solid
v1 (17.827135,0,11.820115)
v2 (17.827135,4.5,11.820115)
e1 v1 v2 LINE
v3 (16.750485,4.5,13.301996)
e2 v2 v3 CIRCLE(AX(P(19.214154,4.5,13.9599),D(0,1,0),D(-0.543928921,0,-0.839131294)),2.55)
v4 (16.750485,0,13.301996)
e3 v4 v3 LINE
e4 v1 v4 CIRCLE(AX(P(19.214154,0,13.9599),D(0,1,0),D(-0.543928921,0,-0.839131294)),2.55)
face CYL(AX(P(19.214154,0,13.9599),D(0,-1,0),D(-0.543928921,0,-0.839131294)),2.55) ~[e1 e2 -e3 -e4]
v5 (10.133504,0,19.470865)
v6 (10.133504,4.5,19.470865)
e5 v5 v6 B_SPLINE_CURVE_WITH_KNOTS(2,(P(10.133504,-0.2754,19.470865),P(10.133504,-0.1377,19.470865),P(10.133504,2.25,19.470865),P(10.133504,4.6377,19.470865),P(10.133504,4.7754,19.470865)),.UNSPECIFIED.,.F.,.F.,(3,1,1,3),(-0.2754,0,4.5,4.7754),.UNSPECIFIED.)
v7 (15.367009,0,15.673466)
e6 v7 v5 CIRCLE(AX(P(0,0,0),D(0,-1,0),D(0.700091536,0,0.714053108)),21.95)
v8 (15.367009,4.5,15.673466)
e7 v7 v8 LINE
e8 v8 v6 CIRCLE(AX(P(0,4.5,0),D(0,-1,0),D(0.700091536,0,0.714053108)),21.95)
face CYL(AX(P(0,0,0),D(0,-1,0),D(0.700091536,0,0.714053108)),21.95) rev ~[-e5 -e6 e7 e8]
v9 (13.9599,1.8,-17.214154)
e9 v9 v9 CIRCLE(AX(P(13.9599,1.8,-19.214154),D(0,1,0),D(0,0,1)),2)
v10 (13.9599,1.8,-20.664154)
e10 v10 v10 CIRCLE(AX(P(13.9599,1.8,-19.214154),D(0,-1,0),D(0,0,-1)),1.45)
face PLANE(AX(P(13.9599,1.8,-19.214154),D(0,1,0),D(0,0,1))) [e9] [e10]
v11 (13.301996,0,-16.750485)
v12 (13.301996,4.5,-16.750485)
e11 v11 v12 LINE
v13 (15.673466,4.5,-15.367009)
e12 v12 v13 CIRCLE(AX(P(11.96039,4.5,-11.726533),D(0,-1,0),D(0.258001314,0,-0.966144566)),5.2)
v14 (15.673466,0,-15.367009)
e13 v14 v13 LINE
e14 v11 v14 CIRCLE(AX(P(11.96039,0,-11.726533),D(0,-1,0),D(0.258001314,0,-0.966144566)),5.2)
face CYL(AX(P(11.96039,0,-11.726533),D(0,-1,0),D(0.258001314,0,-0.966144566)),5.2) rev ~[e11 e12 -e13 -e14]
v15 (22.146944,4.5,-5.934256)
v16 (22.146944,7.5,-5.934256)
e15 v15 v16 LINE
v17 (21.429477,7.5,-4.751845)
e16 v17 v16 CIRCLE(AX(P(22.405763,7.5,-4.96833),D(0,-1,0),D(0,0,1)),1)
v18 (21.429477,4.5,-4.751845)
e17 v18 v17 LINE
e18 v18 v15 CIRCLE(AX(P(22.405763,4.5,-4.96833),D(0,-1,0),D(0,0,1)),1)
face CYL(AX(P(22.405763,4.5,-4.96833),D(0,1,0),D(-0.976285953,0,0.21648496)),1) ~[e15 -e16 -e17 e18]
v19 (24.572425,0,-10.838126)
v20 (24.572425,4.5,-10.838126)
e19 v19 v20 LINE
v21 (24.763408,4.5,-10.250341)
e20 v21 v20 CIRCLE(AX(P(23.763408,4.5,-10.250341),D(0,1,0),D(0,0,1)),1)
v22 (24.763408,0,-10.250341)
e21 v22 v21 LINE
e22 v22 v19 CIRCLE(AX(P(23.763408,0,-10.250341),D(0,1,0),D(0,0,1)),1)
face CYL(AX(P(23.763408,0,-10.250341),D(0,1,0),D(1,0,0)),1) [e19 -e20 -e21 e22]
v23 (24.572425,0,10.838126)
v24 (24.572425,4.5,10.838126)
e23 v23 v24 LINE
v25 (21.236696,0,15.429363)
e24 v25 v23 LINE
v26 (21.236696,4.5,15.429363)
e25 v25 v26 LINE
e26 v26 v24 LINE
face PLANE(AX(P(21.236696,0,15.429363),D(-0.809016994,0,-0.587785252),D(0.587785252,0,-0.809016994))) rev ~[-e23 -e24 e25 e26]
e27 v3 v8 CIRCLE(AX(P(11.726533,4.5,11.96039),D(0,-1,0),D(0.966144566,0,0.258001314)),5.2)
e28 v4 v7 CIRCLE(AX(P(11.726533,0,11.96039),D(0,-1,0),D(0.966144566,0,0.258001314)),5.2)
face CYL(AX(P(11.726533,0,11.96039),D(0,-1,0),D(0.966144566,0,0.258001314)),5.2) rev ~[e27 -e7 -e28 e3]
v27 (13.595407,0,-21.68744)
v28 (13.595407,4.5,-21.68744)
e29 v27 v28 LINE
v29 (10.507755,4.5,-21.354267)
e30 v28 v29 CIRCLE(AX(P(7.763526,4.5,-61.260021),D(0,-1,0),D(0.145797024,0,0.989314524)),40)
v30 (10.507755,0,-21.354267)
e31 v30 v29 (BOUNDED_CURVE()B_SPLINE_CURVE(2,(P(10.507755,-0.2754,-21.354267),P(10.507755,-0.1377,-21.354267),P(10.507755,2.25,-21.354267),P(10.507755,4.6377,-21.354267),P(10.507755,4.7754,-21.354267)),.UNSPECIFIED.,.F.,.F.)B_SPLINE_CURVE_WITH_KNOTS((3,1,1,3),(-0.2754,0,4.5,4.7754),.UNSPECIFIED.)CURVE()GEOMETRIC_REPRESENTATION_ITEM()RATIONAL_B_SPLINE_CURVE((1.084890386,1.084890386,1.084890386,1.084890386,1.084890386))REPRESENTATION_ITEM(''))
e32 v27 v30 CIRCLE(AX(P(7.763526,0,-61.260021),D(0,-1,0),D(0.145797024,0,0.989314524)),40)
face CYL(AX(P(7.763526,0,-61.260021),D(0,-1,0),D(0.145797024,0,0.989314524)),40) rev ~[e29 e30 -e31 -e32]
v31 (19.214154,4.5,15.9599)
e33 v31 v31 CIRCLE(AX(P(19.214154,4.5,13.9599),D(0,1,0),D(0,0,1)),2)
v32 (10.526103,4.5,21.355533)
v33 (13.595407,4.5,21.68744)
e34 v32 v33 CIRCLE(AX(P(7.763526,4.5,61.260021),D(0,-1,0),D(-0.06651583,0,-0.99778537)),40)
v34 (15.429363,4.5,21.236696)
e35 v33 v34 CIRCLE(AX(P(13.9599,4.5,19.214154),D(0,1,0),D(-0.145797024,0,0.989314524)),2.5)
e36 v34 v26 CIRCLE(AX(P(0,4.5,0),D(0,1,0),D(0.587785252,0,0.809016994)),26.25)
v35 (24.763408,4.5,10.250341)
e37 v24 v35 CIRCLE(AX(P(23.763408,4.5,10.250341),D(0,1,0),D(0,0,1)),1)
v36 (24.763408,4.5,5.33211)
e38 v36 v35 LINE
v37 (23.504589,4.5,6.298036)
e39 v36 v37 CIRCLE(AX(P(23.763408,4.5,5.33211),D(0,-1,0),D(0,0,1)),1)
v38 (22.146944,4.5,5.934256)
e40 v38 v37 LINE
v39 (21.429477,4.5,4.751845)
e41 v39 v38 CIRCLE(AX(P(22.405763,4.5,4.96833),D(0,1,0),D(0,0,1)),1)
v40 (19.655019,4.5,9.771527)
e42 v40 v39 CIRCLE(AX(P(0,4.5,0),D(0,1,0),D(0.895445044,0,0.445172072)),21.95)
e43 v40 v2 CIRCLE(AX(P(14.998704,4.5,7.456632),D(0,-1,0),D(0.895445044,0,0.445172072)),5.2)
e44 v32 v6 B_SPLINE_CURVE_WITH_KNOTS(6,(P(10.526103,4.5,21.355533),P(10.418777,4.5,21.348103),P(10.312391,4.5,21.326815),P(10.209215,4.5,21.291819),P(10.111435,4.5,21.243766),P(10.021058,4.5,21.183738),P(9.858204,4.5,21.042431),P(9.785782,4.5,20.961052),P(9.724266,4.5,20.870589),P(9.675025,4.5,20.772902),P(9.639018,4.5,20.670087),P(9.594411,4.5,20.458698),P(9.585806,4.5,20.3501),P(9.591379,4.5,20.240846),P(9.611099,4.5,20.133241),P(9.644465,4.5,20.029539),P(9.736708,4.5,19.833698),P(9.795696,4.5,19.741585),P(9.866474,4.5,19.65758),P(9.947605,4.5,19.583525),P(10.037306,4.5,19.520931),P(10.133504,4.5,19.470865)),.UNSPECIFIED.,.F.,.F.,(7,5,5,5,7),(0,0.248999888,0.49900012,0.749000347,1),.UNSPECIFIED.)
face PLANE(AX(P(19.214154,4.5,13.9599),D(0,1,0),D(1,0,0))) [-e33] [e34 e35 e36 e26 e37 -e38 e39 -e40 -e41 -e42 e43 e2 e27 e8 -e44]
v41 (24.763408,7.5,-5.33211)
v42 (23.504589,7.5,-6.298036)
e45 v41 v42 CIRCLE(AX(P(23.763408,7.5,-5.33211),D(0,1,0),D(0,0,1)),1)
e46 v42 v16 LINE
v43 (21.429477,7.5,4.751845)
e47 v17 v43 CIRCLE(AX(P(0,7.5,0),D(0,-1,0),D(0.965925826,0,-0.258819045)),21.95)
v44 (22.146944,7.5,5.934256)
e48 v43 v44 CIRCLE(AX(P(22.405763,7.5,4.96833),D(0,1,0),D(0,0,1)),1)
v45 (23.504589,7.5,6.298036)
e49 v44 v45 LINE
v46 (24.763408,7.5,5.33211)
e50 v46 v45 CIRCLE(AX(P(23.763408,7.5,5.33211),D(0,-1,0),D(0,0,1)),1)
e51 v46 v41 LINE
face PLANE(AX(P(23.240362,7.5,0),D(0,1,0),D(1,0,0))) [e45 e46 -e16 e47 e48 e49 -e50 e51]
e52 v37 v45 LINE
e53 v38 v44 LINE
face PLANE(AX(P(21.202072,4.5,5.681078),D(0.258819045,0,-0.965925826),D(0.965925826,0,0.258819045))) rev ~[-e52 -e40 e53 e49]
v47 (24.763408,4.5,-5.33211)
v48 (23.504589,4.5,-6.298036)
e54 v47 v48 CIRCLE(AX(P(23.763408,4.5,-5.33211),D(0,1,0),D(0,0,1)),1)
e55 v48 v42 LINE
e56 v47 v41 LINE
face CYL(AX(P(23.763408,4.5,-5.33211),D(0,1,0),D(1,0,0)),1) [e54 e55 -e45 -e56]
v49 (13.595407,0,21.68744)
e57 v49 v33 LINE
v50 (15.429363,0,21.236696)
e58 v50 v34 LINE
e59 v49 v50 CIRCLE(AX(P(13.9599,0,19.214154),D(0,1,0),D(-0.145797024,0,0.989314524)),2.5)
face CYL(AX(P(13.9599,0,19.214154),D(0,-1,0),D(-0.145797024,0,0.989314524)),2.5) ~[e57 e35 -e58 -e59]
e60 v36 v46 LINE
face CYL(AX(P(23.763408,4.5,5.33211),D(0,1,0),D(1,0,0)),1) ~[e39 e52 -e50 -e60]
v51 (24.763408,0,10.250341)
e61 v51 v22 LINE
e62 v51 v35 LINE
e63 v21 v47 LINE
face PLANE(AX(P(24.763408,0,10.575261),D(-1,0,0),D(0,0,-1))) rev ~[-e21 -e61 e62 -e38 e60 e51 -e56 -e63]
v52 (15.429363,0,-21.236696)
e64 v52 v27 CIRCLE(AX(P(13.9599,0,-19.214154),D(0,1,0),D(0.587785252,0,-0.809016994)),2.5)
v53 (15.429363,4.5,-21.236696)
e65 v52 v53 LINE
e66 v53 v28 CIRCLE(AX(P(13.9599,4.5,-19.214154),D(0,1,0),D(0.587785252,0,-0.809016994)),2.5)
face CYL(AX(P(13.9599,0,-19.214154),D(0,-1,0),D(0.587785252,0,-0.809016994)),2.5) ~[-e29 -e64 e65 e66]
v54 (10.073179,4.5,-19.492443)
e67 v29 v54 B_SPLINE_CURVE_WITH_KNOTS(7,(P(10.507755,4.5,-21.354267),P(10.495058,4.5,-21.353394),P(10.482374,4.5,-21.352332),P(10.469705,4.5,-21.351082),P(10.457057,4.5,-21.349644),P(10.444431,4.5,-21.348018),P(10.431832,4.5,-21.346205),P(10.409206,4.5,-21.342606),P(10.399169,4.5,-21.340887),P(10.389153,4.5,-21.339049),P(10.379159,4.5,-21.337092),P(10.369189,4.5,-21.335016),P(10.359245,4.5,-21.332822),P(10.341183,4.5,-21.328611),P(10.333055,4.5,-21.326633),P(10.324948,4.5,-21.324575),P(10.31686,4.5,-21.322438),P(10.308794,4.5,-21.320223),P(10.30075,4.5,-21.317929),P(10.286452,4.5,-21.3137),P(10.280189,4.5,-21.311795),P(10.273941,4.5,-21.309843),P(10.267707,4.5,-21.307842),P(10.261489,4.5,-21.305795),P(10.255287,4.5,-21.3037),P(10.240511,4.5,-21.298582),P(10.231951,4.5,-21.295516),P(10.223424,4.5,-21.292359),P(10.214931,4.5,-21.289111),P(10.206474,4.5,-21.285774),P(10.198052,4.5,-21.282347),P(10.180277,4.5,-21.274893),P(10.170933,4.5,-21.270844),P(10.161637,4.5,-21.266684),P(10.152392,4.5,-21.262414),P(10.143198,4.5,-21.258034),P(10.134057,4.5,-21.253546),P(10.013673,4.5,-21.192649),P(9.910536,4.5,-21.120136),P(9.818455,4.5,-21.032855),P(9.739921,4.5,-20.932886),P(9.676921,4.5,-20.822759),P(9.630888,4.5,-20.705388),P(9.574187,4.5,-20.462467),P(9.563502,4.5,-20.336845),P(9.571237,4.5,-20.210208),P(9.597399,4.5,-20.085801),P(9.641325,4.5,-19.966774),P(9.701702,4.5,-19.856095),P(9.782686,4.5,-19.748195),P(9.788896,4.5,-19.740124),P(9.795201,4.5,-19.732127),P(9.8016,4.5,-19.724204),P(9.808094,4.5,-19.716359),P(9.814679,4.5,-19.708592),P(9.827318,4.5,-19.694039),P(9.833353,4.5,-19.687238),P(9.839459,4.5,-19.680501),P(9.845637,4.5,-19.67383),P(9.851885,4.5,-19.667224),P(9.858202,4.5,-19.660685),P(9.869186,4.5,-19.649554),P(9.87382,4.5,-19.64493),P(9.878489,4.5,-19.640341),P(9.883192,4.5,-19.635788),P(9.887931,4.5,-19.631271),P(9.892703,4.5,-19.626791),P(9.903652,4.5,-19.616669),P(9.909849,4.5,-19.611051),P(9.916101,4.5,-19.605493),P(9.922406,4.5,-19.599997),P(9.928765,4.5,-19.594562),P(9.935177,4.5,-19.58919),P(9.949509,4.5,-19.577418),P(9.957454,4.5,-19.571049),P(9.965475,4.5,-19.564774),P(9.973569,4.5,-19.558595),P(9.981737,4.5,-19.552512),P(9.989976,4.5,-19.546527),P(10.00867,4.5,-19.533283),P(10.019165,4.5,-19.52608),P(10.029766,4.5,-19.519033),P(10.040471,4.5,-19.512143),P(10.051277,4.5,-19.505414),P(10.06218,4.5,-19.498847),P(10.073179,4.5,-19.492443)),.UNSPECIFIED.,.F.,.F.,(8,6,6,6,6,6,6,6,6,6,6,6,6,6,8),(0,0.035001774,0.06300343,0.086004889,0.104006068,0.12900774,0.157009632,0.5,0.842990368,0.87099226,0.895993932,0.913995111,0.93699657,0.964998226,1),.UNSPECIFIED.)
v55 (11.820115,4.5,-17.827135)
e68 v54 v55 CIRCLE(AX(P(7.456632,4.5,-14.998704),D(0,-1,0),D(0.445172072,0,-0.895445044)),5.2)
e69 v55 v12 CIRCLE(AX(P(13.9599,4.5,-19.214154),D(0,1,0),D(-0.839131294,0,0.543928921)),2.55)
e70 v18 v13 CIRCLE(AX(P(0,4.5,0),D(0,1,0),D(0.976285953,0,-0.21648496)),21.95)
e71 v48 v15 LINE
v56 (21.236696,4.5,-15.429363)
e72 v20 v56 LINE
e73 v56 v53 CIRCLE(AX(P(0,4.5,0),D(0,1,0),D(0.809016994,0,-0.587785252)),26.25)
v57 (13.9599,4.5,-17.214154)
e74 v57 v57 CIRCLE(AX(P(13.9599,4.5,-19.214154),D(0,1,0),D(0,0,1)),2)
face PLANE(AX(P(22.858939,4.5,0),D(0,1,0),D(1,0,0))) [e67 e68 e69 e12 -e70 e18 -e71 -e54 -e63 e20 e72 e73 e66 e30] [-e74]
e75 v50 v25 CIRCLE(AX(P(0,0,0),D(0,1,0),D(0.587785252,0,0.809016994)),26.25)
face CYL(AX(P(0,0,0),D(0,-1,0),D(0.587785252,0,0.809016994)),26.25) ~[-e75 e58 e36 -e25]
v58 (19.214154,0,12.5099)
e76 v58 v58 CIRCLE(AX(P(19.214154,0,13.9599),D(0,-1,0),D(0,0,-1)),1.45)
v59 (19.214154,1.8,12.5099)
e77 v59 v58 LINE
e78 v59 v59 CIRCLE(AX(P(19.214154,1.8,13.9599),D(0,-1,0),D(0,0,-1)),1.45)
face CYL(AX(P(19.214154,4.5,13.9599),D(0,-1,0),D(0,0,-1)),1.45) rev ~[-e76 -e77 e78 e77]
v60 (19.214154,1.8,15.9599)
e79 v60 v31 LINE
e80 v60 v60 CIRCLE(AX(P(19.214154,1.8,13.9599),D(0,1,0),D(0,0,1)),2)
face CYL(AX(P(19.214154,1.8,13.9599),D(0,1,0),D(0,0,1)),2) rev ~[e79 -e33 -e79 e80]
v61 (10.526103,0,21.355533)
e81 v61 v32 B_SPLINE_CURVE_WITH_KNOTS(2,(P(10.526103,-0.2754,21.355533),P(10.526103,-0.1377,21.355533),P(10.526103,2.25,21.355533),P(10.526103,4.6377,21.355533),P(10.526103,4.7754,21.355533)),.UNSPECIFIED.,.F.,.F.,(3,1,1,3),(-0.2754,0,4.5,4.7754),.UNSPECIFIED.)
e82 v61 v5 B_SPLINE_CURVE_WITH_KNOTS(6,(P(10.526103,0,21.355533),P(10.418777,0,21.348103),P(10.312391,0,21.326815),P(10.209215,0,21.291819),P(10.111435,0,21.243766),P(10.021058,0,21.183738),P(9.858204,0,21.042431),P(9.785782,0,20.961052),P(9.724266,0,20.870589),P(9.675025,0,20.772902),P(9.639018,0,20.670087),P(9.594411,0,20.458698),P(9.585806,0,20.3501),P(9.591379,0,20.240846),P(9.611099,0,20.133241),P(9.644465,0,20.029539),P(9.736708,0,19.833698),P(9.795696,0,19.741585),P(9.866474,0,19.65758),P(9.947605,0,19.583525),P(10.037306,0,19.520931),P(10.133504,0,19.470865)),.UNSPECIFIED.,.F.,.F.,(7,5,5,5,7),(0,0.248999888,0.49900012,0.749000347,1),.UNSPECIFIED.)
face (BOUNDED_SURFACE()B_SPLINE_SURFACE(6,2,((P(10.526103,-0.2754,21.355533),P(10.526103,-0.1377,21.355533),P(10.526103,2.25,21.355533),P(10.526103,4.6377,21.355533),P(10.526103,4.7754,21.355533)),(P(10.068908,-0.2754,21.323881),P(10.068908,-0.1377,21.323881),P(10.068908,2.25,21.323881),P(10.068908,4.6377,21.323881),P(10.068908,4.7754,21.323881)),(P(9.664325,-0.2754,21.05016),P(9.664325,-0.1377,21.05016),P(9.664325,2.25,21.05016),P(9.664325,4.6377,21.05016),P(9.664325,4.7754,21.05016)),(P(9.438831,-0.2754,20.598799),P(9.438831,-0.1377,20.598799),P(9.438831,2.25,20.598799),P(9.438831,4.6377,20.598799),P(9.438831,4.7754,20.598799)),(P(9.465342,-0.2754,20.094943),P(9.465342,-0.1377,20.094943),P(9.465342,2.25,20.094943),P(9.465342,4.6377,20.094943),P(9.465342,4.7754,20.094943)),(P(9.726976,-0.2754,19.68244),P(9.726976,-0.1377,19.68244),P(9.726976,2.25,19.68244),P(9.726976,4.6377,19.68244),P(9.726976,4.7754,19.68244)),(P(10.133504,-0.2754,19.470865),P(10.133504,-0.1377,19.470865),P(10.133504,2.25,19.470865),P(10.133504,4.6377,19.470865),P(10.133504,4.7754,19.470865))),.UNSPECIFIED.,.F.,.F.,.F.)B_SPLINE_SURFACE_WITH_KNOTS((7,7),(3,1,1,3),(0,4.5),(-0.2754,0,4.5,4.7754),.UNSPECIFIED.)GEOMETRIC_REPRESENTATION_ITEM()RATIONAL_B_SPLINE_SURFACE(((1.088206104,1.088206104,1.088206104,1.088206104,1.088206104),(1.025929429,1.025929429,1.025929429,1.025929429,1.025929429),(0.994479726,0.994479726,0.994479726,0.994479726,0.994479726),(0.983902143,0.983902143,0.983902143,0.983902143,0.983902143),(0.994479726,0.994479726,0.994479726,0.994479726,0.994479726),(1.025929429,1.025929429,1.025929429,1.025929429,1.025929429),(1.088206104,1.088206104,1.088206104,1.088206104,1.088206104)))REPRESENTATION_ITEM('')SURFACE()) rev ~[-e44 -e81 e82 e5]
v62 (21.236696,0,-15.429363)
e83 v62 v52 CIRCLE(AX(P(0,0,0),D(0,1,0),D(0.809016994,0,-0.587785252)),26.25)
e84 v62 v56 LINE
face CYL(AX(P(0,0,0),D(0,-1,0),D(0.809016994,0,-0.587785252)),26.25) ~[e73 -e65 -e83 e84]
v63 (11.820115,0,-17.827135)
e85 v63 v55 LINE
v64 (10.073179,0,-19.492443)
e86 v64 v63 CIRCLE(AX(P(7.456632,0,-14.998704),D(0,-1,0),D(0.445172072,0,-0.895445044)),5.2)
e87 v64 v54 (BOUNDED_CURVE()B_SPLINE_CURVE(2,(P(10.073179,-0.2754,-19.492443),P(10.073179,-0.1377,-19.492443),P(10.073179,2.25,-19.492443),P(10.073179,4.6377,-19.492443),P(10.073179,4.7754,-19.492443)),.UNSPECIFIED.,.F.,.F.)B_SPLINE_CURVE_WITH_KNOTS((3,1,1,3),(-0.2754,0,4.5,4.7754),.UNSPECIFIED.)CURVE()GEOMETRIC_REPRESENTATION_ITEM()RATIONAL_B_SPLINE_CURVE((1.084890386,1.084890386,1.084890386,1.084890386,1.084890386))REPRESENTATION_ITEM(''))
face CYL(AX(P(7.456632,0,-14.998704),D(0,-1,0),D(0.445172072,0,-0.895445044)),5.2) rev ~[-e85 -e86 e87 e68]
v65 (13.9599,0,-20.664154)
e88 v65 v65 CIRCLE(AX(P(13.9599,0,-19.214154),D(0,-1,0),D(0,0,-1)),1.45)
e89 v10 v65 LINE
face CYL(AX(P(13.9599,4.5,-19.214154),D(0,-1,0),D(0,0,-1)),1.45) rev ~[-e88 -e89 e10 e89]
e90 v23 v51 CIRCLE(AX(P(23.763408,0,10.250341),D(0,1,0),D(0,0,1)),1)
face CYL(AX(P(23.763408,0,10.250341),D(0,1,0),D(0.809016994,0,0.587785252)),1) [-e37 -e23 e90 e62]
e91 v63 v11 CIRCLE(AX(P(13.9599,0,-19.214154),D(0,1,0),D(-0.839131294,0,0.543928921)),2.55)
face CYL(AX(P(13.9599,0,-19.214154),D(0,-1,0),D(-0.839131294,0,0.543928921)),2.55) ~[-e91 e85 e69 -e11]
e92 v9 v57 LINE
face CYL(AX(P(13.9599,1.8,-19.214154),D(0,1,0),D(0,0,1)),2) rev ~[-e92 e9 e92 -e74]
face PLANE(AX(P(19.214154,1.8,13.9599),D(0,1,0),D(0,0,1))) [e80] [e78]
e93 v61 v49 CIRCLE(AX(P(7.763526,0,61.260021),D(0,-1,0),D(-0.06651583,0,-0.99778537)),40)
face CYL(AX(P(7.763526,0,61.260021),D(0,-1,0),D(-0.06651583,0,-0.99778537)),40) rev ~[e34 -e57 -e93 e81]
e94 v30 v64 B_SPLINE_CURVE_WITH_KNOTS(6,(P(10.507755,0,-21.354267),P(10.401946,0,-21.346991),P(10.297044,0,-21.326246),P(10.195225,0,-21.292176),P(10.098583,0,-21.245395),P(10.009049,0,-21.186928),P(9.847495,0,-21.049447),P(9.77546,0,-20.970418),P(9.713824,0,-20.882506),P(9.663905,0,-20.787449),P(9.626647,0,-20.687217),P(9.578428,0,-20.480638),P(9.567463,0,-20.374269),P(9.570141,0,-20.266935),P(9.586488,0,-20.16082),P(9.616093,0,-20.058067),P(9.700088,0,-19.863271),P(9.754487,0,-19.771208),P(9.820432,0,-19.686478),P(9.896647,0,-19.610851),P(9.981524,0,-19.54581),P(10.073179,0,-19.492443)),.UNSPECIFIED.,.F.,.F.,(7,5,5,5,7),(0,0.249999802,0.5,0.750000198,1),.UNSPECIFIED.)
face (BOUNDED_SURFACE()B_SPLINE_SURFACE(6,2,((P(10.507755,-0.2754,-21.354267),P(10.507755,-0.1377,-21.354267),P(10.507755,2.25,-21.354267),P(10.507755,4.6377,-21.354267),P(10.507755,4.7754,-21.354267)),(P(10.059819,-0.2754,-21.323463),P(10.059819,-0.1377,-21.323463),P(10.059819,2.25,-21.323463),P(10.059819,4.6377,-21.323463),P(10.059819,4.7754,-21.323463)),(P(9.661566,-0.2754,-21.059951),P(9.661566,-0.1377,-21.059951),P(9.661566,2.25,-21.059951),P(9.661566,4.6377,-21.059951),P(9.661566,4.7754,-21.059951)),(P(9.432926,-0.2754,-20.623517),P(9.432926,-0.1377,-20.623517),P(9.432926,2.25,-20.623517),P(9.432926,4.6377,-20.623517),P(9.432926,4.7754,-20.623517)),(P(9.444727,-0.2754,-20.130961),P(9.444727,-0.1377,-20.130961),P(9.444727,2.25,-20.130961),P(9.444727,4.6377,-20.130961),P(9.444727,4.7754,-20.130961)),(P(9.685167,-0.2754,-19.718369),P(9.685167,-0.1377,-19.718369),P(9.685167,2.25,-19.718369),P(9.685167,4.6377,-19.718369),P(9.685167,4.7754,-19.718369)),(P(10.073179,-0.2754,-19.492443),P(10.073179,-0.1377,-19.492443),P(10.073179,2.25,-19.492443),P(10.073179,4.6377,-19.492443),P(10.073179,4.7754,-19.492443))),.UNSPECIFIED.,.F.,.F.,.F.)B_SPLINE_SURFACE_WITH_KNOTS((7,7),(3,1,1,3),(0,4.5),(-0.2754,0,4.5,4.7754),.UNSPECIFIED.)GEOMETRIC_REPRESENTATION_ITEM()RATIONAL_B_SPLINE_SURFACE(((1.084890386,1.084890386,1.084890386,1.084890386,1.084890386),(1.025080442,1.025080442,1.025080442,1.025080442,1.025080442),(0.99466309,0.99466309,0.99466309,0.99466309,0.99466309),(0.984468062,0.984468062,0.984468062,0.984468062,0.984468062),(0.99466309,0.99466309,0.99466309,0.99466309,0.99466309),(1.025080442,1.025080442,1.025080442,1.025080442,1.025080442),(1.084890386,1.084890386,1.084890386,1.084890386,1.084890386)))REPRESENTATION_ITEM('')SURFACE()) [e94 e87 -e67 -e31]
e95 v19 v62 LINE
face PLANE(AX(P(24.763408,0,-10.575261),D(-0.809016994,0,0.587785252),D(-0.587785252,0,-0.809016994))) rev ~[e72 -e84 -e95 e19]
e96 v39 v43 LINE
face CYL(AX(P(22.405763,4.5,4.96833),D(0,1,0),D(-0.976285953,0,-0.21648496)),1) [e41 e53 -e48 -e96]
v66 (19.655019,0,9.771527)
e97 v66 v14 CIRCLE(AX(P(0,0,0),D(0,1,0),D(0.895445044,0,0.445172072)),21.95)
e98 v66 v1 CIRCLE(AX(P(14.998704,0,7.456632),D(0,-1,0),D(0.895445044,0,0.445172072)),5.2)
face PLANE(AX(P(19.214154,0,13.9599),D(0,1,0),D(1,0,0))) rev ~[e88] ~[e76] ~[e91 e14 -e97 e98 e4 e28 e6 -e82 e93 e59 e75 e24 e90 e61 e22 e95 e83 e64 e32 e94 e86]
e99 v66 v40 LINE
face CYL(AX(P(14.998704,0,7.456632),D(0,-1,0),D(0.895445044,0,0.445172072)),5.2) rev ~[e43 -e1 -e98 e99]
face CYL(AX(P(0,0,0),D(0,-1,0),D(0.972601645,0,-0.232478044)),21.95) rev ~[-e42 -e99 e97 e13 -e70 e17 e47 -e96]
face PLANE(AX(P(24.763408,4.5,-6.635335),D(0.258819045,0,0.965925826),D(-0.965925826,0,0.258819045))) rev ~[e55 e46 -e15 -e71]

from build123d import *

# Parameters (mm, degrees)
SKETCH_1_R                     = 1.0250000000000292
EXTRUDE_1_DEPTH                = 4.5
EXTRUDE_1_2_DEPTH              = 4.5
EXTRUDE_START                  = -4.5
EXTRUDE_2_DEPTH                = 4.5
EXTRUDE_3_DEPTH                = 3
SKETCH_7_R                     = 1.45
SKETCH_7_R_2                   = 1.0000000000000018
EXTRUDE_5_DEPTH                = 4.5
HOLE_WIZARD_M2_5_2_D           = 2.9
HOLE_WIZARD_M2_5_2_CBORE_D     = 4
HOLE_WIZARD_M2_5_2_CBORE_DEPTH = 2.7
FILLET_5_R                     = 1


with BuildPart() as part:
    # 草图1 → 凸台-拉伸1 (new body)
    with BuildSketch(Plane(origin=(0, 0, 0), x_dir=(1, 0, 0), z_dir=(0, 1, 0))):
        with BuildLine():
            ThreePointArc((21.348606100588817, 5.102893058050916), (21.291819851832585, 9.358175160870491), (21.68743992704855, 13.595407182923395))
            ThreePointArc((21.687439927048548, 13.595407182923395), (21.641903090720017, 14.556584323583055), (21.236696102342364, 15.429362872677498))
            ThreePointArc((21.236696102342368, 15.429362872677501), (18.56155300614698, 18.56155300614684), (15.429362872677654, 21.236696102342243))
            ThreePointArc((15.429362872677654, 21.23669610234224), (14.556584323583243, 21.641903090720017), (13.595407182923555, 21.68743992704845))
            ThreePointArc((13.595407182923555, 21.687439927048445), (10.687287616312432, 21.367018761558228), (7.763526238556964, 21.26002089734574))
            ThreePointArc((7.763526238556963, 21.260020897345733), (6.432472496268358, 21.282173332286177), (5.102893058051164, 21.348606100588782))
            ThreePointArc((5.1028930580511656, 21.348606100588796), (7.485262352646101, 20.634276035569133), (9.771526987407864, 19.65501870602934))
            ThreePointArc((9.771526987407862, 19.655018706029338), (10.918636162855368, 18.878721056795385), (11.820114941555765, 17.82713486814756))
            ThreePointArc((11.820114941555765, 17.82713486814756), (12.461047348600456, 17.151160280748954), (13.301996390818283, 16.750484973796134))
            ThreePointArc((13.301996390818283, 16.750484973796134), (14.580686550664556, 16.218085710353485), (15.673465718169814, 15.367009220448802))
            ThreePointArc((15.673465718169815, 15.367009220448805), (19.20928084513133, 10.621018285120913), (21.348606100588796, 5.102893058050913))
        make_face()
        with Locations(Location((13.959899741946257, 19.214153616405042, 0), (0, 0, 270))):
            Circle(SKETCH_1_R, mode=Mode.SUBTRACT)
    extrude(amount=EXTRUDE_1_DEPTH)



with BuildPart() as body_2:
    # 草图1 → Extrude 1 2 (new body)
    with BuildSketch(Plane(origin=(0, 0, 0), x_dir=(1, 0, 0), z_dir=(0, 1, 0))):
        with BuildLine():
            ThreePointArc((21.687439927048345, -13.59540718292358), (21.291819851832443, -9.358175160870594), (21.348606100588746, -5.102893058050941))
            ThreePointArc((21.348606100588746, -5.10289305805094), (20.63427603556909, -7.4852623526459166), (19.655018706029292, -9.771526987407722))
            ThreePointArc((19.655018706029292, -9.77152698740772), (18.87872105679534, -10.918636162855227), (17.827134868147517, -11.82011494155563))
            ThreePointArc((17.827134868147517, -11.82011494155563), (17.151160280748865, -12.461047348600282), (16.7504849737961, -13.301996390818143))
            ThreePointArc((16.7504849737961, -13.301996390818143), (16.218085710353446, -14.580686550664424), (15.367009220448757, -15.673465718169691))
            ThreePointArc((15.367009220448761, -15.673465718169693), (10.621018285120737, -19.209280845131296), (5.1028930580505785, -21.348606100588768))
            ThreePointArc((5.102893058050578, -21.348606100588754), (9.35817516087026, -21.29181985183253), (13.595407182923264, -21.68743992704851))
            ThreePointArc((13.595407182923264, -21.687439927048516), (13.777164655836453, -21.707466249891656), (13.959899741946161, -21.714153616404968))
            ThreePointArc((13.959899741946161, -21.714153616404968), (14.732442227883533, -21.591794907142855), (15.429362872677345, -21.236696102342332))
            ThreePointArc((15.429362872677347, -21.236696102342336), (18.561553006146696, -18.561553006146962), (21.23669610234214, -15.429362872677675))
            ThreePointArc((21.236696102342137, -15.429362872677672), (21.64190309071992, -14.556584323583264), (21.687439927048352, -13.595407182923577))
        make_face()
        with BuildLine():
            ThreePointArc((19.21415361640496, -12.509899741946258), (20.66415361640495, -13.95989974194627), (19.214153616404936, -15.409899741946257))
            ThreePointArc((19.214153616404936, -15.409899741946255), (17.76415361640495, -13.959899741946243), (19.21415361640496, -12.509899741946256))
        make_face(mode=Mode.SUBTRACT)
    extrude(amount=EXTRUDE_1_2_DEPTH)


with BuildPart() as part_1:
    add(part.part)

    add(body_2.part)  # 凸台-拉伸2 merges body 2
    # 草图4 → 凸台-拉伸2 (add)
    with BuildSketch(Plane(origin=(0, 4.5, 0), x_dir=(1, 0, 0), z_dir=(0, 1, 0)).offset(EXTRUDE_START)):
        with BuildLine():
            Line((21.236696102342133, -15.429362872677666), (24.7634076160975, -10.575260906428365))
            Line((24.7634076160975, -10.575260906428365), (24.7634076160975, 10.575260906428364))
            Line((24.7634076160975, 10.575260906428364), (21.236696102342353, 15.429362872677489))
            ThreePointArc((21.236696102342353, 15.429362872677489), (21.641903090720028, 14.556584323583055), (21.687439927048562, 13.595407182923394))
            ThreePointArc((21.687439927048562, 13.595407182923394), (21.2918198518326, 9.358175160870505), (21.348606100588814, 5.102893058050923))
            ThreePointArc((21.348606100588814, 5.102893058050923), (21.950000000000014, -1.41e-14), (21.34860610058875, -5.102893058050941))
            ThreePointArc((21.34860610058875, -5.102893058050941), (21.291819851832443, -9.358175160870587), (21.687439927048448, -13.595407182923562))
            ThreePointArc((21.687439927048448, -13.595407182923562), (21.64190309071992, -14.556584323583241), (21.236696102342133, -15.429362872677666))
        make_face()
    extrude(amount=EXTRUDE_2_DEPTH)

    # 草图5 → 凸台-拉伸3 (add)
    with BuildSketch(Plane(origin=(0, 4.5, 0), x_dir=(1, 0, 0), z_dir=(0, 1, 0))):
        with BuildLine():
            Line((21.20207188704507, -5.68107804000035), (24.7634076160975, -6.635335072576056))
            Line((24.7634076160975, -6.635335072576056), (24.7634076160975, 6.635335072576056))
            Line((24.7634076160975, 6.635335072576056), (21.202071887045097, 5.681078040000357))
            ThreePointArc((21.202071887045097, 5.681078040000357), (21.950000000000045, 2.96e-15), (21.20207188704507, -5.68107804000035))
        make_face()
    extrude(amount=EXTRUDE_3_DEPTH)

    # 草图7 → 凸台-拉伸5 (add)
    with BuildSketch(Plane(origin=(0, 4.5, 0), x_dir=(1, 0, 0), z_dir=(0, 1, 0)).offset(EXTRUDE_START)):
        with Locations((19.21415361640495, -13.959899741946257)):
            Circle(SKETCH_7_R)
        with Locations(Location((19.21415361640495, -13.959899741946257, 0), (0, 0, 270))):
            Circle(SKETCH_7_R_2, mode=Mode.SUBTRACT)
    extrude(amount=EXTRUDE_5_DEPTH)

    # M2.5 六角圆柱头螺钉的柱形沉头孔2 (through all)
    with Locations(Plane(origin=(13.959899742, 4.5, -19.214153616), x_dir=(0, 0, 1), z_dir=(0, 1, 0))):
        with Locations((0, 0), (33.174053358, 5.254253874)):
            CounterBoreHole(HOLE_WIZARD_M2_5_2_D / 2, HOLE_WIZARD_M2_5_2_CBORE_D / 2, HOLE_WIZARD_M2_5_2_CBORE_DEPTH)

    # 圆角5
    fillet_5_edges = [part_1.edges().sort_by_distance(p)[0] for p in [
        (24.7634076160975, 2.25, 10.575260906428365),
        (24.7634076160975, 2.25, -10.575260906428364),
        (24.7634076160975, 6, -6.635335072576056),
        (21.202071887045093, 6, -5.681078040000356),
        (21.202071887045065, 6, 5.681078040000351),
        (24.7634076160975, 6, 6.635335072576056),
        (5.1028930580505785, 2.25, 21.34860610058876),
        (5.102893058051165, 2.25, -21.34860610058879),
    ]]
    fillet(fillet_5_edges, radius=FILLET_5_R)


solid = part_1.part
